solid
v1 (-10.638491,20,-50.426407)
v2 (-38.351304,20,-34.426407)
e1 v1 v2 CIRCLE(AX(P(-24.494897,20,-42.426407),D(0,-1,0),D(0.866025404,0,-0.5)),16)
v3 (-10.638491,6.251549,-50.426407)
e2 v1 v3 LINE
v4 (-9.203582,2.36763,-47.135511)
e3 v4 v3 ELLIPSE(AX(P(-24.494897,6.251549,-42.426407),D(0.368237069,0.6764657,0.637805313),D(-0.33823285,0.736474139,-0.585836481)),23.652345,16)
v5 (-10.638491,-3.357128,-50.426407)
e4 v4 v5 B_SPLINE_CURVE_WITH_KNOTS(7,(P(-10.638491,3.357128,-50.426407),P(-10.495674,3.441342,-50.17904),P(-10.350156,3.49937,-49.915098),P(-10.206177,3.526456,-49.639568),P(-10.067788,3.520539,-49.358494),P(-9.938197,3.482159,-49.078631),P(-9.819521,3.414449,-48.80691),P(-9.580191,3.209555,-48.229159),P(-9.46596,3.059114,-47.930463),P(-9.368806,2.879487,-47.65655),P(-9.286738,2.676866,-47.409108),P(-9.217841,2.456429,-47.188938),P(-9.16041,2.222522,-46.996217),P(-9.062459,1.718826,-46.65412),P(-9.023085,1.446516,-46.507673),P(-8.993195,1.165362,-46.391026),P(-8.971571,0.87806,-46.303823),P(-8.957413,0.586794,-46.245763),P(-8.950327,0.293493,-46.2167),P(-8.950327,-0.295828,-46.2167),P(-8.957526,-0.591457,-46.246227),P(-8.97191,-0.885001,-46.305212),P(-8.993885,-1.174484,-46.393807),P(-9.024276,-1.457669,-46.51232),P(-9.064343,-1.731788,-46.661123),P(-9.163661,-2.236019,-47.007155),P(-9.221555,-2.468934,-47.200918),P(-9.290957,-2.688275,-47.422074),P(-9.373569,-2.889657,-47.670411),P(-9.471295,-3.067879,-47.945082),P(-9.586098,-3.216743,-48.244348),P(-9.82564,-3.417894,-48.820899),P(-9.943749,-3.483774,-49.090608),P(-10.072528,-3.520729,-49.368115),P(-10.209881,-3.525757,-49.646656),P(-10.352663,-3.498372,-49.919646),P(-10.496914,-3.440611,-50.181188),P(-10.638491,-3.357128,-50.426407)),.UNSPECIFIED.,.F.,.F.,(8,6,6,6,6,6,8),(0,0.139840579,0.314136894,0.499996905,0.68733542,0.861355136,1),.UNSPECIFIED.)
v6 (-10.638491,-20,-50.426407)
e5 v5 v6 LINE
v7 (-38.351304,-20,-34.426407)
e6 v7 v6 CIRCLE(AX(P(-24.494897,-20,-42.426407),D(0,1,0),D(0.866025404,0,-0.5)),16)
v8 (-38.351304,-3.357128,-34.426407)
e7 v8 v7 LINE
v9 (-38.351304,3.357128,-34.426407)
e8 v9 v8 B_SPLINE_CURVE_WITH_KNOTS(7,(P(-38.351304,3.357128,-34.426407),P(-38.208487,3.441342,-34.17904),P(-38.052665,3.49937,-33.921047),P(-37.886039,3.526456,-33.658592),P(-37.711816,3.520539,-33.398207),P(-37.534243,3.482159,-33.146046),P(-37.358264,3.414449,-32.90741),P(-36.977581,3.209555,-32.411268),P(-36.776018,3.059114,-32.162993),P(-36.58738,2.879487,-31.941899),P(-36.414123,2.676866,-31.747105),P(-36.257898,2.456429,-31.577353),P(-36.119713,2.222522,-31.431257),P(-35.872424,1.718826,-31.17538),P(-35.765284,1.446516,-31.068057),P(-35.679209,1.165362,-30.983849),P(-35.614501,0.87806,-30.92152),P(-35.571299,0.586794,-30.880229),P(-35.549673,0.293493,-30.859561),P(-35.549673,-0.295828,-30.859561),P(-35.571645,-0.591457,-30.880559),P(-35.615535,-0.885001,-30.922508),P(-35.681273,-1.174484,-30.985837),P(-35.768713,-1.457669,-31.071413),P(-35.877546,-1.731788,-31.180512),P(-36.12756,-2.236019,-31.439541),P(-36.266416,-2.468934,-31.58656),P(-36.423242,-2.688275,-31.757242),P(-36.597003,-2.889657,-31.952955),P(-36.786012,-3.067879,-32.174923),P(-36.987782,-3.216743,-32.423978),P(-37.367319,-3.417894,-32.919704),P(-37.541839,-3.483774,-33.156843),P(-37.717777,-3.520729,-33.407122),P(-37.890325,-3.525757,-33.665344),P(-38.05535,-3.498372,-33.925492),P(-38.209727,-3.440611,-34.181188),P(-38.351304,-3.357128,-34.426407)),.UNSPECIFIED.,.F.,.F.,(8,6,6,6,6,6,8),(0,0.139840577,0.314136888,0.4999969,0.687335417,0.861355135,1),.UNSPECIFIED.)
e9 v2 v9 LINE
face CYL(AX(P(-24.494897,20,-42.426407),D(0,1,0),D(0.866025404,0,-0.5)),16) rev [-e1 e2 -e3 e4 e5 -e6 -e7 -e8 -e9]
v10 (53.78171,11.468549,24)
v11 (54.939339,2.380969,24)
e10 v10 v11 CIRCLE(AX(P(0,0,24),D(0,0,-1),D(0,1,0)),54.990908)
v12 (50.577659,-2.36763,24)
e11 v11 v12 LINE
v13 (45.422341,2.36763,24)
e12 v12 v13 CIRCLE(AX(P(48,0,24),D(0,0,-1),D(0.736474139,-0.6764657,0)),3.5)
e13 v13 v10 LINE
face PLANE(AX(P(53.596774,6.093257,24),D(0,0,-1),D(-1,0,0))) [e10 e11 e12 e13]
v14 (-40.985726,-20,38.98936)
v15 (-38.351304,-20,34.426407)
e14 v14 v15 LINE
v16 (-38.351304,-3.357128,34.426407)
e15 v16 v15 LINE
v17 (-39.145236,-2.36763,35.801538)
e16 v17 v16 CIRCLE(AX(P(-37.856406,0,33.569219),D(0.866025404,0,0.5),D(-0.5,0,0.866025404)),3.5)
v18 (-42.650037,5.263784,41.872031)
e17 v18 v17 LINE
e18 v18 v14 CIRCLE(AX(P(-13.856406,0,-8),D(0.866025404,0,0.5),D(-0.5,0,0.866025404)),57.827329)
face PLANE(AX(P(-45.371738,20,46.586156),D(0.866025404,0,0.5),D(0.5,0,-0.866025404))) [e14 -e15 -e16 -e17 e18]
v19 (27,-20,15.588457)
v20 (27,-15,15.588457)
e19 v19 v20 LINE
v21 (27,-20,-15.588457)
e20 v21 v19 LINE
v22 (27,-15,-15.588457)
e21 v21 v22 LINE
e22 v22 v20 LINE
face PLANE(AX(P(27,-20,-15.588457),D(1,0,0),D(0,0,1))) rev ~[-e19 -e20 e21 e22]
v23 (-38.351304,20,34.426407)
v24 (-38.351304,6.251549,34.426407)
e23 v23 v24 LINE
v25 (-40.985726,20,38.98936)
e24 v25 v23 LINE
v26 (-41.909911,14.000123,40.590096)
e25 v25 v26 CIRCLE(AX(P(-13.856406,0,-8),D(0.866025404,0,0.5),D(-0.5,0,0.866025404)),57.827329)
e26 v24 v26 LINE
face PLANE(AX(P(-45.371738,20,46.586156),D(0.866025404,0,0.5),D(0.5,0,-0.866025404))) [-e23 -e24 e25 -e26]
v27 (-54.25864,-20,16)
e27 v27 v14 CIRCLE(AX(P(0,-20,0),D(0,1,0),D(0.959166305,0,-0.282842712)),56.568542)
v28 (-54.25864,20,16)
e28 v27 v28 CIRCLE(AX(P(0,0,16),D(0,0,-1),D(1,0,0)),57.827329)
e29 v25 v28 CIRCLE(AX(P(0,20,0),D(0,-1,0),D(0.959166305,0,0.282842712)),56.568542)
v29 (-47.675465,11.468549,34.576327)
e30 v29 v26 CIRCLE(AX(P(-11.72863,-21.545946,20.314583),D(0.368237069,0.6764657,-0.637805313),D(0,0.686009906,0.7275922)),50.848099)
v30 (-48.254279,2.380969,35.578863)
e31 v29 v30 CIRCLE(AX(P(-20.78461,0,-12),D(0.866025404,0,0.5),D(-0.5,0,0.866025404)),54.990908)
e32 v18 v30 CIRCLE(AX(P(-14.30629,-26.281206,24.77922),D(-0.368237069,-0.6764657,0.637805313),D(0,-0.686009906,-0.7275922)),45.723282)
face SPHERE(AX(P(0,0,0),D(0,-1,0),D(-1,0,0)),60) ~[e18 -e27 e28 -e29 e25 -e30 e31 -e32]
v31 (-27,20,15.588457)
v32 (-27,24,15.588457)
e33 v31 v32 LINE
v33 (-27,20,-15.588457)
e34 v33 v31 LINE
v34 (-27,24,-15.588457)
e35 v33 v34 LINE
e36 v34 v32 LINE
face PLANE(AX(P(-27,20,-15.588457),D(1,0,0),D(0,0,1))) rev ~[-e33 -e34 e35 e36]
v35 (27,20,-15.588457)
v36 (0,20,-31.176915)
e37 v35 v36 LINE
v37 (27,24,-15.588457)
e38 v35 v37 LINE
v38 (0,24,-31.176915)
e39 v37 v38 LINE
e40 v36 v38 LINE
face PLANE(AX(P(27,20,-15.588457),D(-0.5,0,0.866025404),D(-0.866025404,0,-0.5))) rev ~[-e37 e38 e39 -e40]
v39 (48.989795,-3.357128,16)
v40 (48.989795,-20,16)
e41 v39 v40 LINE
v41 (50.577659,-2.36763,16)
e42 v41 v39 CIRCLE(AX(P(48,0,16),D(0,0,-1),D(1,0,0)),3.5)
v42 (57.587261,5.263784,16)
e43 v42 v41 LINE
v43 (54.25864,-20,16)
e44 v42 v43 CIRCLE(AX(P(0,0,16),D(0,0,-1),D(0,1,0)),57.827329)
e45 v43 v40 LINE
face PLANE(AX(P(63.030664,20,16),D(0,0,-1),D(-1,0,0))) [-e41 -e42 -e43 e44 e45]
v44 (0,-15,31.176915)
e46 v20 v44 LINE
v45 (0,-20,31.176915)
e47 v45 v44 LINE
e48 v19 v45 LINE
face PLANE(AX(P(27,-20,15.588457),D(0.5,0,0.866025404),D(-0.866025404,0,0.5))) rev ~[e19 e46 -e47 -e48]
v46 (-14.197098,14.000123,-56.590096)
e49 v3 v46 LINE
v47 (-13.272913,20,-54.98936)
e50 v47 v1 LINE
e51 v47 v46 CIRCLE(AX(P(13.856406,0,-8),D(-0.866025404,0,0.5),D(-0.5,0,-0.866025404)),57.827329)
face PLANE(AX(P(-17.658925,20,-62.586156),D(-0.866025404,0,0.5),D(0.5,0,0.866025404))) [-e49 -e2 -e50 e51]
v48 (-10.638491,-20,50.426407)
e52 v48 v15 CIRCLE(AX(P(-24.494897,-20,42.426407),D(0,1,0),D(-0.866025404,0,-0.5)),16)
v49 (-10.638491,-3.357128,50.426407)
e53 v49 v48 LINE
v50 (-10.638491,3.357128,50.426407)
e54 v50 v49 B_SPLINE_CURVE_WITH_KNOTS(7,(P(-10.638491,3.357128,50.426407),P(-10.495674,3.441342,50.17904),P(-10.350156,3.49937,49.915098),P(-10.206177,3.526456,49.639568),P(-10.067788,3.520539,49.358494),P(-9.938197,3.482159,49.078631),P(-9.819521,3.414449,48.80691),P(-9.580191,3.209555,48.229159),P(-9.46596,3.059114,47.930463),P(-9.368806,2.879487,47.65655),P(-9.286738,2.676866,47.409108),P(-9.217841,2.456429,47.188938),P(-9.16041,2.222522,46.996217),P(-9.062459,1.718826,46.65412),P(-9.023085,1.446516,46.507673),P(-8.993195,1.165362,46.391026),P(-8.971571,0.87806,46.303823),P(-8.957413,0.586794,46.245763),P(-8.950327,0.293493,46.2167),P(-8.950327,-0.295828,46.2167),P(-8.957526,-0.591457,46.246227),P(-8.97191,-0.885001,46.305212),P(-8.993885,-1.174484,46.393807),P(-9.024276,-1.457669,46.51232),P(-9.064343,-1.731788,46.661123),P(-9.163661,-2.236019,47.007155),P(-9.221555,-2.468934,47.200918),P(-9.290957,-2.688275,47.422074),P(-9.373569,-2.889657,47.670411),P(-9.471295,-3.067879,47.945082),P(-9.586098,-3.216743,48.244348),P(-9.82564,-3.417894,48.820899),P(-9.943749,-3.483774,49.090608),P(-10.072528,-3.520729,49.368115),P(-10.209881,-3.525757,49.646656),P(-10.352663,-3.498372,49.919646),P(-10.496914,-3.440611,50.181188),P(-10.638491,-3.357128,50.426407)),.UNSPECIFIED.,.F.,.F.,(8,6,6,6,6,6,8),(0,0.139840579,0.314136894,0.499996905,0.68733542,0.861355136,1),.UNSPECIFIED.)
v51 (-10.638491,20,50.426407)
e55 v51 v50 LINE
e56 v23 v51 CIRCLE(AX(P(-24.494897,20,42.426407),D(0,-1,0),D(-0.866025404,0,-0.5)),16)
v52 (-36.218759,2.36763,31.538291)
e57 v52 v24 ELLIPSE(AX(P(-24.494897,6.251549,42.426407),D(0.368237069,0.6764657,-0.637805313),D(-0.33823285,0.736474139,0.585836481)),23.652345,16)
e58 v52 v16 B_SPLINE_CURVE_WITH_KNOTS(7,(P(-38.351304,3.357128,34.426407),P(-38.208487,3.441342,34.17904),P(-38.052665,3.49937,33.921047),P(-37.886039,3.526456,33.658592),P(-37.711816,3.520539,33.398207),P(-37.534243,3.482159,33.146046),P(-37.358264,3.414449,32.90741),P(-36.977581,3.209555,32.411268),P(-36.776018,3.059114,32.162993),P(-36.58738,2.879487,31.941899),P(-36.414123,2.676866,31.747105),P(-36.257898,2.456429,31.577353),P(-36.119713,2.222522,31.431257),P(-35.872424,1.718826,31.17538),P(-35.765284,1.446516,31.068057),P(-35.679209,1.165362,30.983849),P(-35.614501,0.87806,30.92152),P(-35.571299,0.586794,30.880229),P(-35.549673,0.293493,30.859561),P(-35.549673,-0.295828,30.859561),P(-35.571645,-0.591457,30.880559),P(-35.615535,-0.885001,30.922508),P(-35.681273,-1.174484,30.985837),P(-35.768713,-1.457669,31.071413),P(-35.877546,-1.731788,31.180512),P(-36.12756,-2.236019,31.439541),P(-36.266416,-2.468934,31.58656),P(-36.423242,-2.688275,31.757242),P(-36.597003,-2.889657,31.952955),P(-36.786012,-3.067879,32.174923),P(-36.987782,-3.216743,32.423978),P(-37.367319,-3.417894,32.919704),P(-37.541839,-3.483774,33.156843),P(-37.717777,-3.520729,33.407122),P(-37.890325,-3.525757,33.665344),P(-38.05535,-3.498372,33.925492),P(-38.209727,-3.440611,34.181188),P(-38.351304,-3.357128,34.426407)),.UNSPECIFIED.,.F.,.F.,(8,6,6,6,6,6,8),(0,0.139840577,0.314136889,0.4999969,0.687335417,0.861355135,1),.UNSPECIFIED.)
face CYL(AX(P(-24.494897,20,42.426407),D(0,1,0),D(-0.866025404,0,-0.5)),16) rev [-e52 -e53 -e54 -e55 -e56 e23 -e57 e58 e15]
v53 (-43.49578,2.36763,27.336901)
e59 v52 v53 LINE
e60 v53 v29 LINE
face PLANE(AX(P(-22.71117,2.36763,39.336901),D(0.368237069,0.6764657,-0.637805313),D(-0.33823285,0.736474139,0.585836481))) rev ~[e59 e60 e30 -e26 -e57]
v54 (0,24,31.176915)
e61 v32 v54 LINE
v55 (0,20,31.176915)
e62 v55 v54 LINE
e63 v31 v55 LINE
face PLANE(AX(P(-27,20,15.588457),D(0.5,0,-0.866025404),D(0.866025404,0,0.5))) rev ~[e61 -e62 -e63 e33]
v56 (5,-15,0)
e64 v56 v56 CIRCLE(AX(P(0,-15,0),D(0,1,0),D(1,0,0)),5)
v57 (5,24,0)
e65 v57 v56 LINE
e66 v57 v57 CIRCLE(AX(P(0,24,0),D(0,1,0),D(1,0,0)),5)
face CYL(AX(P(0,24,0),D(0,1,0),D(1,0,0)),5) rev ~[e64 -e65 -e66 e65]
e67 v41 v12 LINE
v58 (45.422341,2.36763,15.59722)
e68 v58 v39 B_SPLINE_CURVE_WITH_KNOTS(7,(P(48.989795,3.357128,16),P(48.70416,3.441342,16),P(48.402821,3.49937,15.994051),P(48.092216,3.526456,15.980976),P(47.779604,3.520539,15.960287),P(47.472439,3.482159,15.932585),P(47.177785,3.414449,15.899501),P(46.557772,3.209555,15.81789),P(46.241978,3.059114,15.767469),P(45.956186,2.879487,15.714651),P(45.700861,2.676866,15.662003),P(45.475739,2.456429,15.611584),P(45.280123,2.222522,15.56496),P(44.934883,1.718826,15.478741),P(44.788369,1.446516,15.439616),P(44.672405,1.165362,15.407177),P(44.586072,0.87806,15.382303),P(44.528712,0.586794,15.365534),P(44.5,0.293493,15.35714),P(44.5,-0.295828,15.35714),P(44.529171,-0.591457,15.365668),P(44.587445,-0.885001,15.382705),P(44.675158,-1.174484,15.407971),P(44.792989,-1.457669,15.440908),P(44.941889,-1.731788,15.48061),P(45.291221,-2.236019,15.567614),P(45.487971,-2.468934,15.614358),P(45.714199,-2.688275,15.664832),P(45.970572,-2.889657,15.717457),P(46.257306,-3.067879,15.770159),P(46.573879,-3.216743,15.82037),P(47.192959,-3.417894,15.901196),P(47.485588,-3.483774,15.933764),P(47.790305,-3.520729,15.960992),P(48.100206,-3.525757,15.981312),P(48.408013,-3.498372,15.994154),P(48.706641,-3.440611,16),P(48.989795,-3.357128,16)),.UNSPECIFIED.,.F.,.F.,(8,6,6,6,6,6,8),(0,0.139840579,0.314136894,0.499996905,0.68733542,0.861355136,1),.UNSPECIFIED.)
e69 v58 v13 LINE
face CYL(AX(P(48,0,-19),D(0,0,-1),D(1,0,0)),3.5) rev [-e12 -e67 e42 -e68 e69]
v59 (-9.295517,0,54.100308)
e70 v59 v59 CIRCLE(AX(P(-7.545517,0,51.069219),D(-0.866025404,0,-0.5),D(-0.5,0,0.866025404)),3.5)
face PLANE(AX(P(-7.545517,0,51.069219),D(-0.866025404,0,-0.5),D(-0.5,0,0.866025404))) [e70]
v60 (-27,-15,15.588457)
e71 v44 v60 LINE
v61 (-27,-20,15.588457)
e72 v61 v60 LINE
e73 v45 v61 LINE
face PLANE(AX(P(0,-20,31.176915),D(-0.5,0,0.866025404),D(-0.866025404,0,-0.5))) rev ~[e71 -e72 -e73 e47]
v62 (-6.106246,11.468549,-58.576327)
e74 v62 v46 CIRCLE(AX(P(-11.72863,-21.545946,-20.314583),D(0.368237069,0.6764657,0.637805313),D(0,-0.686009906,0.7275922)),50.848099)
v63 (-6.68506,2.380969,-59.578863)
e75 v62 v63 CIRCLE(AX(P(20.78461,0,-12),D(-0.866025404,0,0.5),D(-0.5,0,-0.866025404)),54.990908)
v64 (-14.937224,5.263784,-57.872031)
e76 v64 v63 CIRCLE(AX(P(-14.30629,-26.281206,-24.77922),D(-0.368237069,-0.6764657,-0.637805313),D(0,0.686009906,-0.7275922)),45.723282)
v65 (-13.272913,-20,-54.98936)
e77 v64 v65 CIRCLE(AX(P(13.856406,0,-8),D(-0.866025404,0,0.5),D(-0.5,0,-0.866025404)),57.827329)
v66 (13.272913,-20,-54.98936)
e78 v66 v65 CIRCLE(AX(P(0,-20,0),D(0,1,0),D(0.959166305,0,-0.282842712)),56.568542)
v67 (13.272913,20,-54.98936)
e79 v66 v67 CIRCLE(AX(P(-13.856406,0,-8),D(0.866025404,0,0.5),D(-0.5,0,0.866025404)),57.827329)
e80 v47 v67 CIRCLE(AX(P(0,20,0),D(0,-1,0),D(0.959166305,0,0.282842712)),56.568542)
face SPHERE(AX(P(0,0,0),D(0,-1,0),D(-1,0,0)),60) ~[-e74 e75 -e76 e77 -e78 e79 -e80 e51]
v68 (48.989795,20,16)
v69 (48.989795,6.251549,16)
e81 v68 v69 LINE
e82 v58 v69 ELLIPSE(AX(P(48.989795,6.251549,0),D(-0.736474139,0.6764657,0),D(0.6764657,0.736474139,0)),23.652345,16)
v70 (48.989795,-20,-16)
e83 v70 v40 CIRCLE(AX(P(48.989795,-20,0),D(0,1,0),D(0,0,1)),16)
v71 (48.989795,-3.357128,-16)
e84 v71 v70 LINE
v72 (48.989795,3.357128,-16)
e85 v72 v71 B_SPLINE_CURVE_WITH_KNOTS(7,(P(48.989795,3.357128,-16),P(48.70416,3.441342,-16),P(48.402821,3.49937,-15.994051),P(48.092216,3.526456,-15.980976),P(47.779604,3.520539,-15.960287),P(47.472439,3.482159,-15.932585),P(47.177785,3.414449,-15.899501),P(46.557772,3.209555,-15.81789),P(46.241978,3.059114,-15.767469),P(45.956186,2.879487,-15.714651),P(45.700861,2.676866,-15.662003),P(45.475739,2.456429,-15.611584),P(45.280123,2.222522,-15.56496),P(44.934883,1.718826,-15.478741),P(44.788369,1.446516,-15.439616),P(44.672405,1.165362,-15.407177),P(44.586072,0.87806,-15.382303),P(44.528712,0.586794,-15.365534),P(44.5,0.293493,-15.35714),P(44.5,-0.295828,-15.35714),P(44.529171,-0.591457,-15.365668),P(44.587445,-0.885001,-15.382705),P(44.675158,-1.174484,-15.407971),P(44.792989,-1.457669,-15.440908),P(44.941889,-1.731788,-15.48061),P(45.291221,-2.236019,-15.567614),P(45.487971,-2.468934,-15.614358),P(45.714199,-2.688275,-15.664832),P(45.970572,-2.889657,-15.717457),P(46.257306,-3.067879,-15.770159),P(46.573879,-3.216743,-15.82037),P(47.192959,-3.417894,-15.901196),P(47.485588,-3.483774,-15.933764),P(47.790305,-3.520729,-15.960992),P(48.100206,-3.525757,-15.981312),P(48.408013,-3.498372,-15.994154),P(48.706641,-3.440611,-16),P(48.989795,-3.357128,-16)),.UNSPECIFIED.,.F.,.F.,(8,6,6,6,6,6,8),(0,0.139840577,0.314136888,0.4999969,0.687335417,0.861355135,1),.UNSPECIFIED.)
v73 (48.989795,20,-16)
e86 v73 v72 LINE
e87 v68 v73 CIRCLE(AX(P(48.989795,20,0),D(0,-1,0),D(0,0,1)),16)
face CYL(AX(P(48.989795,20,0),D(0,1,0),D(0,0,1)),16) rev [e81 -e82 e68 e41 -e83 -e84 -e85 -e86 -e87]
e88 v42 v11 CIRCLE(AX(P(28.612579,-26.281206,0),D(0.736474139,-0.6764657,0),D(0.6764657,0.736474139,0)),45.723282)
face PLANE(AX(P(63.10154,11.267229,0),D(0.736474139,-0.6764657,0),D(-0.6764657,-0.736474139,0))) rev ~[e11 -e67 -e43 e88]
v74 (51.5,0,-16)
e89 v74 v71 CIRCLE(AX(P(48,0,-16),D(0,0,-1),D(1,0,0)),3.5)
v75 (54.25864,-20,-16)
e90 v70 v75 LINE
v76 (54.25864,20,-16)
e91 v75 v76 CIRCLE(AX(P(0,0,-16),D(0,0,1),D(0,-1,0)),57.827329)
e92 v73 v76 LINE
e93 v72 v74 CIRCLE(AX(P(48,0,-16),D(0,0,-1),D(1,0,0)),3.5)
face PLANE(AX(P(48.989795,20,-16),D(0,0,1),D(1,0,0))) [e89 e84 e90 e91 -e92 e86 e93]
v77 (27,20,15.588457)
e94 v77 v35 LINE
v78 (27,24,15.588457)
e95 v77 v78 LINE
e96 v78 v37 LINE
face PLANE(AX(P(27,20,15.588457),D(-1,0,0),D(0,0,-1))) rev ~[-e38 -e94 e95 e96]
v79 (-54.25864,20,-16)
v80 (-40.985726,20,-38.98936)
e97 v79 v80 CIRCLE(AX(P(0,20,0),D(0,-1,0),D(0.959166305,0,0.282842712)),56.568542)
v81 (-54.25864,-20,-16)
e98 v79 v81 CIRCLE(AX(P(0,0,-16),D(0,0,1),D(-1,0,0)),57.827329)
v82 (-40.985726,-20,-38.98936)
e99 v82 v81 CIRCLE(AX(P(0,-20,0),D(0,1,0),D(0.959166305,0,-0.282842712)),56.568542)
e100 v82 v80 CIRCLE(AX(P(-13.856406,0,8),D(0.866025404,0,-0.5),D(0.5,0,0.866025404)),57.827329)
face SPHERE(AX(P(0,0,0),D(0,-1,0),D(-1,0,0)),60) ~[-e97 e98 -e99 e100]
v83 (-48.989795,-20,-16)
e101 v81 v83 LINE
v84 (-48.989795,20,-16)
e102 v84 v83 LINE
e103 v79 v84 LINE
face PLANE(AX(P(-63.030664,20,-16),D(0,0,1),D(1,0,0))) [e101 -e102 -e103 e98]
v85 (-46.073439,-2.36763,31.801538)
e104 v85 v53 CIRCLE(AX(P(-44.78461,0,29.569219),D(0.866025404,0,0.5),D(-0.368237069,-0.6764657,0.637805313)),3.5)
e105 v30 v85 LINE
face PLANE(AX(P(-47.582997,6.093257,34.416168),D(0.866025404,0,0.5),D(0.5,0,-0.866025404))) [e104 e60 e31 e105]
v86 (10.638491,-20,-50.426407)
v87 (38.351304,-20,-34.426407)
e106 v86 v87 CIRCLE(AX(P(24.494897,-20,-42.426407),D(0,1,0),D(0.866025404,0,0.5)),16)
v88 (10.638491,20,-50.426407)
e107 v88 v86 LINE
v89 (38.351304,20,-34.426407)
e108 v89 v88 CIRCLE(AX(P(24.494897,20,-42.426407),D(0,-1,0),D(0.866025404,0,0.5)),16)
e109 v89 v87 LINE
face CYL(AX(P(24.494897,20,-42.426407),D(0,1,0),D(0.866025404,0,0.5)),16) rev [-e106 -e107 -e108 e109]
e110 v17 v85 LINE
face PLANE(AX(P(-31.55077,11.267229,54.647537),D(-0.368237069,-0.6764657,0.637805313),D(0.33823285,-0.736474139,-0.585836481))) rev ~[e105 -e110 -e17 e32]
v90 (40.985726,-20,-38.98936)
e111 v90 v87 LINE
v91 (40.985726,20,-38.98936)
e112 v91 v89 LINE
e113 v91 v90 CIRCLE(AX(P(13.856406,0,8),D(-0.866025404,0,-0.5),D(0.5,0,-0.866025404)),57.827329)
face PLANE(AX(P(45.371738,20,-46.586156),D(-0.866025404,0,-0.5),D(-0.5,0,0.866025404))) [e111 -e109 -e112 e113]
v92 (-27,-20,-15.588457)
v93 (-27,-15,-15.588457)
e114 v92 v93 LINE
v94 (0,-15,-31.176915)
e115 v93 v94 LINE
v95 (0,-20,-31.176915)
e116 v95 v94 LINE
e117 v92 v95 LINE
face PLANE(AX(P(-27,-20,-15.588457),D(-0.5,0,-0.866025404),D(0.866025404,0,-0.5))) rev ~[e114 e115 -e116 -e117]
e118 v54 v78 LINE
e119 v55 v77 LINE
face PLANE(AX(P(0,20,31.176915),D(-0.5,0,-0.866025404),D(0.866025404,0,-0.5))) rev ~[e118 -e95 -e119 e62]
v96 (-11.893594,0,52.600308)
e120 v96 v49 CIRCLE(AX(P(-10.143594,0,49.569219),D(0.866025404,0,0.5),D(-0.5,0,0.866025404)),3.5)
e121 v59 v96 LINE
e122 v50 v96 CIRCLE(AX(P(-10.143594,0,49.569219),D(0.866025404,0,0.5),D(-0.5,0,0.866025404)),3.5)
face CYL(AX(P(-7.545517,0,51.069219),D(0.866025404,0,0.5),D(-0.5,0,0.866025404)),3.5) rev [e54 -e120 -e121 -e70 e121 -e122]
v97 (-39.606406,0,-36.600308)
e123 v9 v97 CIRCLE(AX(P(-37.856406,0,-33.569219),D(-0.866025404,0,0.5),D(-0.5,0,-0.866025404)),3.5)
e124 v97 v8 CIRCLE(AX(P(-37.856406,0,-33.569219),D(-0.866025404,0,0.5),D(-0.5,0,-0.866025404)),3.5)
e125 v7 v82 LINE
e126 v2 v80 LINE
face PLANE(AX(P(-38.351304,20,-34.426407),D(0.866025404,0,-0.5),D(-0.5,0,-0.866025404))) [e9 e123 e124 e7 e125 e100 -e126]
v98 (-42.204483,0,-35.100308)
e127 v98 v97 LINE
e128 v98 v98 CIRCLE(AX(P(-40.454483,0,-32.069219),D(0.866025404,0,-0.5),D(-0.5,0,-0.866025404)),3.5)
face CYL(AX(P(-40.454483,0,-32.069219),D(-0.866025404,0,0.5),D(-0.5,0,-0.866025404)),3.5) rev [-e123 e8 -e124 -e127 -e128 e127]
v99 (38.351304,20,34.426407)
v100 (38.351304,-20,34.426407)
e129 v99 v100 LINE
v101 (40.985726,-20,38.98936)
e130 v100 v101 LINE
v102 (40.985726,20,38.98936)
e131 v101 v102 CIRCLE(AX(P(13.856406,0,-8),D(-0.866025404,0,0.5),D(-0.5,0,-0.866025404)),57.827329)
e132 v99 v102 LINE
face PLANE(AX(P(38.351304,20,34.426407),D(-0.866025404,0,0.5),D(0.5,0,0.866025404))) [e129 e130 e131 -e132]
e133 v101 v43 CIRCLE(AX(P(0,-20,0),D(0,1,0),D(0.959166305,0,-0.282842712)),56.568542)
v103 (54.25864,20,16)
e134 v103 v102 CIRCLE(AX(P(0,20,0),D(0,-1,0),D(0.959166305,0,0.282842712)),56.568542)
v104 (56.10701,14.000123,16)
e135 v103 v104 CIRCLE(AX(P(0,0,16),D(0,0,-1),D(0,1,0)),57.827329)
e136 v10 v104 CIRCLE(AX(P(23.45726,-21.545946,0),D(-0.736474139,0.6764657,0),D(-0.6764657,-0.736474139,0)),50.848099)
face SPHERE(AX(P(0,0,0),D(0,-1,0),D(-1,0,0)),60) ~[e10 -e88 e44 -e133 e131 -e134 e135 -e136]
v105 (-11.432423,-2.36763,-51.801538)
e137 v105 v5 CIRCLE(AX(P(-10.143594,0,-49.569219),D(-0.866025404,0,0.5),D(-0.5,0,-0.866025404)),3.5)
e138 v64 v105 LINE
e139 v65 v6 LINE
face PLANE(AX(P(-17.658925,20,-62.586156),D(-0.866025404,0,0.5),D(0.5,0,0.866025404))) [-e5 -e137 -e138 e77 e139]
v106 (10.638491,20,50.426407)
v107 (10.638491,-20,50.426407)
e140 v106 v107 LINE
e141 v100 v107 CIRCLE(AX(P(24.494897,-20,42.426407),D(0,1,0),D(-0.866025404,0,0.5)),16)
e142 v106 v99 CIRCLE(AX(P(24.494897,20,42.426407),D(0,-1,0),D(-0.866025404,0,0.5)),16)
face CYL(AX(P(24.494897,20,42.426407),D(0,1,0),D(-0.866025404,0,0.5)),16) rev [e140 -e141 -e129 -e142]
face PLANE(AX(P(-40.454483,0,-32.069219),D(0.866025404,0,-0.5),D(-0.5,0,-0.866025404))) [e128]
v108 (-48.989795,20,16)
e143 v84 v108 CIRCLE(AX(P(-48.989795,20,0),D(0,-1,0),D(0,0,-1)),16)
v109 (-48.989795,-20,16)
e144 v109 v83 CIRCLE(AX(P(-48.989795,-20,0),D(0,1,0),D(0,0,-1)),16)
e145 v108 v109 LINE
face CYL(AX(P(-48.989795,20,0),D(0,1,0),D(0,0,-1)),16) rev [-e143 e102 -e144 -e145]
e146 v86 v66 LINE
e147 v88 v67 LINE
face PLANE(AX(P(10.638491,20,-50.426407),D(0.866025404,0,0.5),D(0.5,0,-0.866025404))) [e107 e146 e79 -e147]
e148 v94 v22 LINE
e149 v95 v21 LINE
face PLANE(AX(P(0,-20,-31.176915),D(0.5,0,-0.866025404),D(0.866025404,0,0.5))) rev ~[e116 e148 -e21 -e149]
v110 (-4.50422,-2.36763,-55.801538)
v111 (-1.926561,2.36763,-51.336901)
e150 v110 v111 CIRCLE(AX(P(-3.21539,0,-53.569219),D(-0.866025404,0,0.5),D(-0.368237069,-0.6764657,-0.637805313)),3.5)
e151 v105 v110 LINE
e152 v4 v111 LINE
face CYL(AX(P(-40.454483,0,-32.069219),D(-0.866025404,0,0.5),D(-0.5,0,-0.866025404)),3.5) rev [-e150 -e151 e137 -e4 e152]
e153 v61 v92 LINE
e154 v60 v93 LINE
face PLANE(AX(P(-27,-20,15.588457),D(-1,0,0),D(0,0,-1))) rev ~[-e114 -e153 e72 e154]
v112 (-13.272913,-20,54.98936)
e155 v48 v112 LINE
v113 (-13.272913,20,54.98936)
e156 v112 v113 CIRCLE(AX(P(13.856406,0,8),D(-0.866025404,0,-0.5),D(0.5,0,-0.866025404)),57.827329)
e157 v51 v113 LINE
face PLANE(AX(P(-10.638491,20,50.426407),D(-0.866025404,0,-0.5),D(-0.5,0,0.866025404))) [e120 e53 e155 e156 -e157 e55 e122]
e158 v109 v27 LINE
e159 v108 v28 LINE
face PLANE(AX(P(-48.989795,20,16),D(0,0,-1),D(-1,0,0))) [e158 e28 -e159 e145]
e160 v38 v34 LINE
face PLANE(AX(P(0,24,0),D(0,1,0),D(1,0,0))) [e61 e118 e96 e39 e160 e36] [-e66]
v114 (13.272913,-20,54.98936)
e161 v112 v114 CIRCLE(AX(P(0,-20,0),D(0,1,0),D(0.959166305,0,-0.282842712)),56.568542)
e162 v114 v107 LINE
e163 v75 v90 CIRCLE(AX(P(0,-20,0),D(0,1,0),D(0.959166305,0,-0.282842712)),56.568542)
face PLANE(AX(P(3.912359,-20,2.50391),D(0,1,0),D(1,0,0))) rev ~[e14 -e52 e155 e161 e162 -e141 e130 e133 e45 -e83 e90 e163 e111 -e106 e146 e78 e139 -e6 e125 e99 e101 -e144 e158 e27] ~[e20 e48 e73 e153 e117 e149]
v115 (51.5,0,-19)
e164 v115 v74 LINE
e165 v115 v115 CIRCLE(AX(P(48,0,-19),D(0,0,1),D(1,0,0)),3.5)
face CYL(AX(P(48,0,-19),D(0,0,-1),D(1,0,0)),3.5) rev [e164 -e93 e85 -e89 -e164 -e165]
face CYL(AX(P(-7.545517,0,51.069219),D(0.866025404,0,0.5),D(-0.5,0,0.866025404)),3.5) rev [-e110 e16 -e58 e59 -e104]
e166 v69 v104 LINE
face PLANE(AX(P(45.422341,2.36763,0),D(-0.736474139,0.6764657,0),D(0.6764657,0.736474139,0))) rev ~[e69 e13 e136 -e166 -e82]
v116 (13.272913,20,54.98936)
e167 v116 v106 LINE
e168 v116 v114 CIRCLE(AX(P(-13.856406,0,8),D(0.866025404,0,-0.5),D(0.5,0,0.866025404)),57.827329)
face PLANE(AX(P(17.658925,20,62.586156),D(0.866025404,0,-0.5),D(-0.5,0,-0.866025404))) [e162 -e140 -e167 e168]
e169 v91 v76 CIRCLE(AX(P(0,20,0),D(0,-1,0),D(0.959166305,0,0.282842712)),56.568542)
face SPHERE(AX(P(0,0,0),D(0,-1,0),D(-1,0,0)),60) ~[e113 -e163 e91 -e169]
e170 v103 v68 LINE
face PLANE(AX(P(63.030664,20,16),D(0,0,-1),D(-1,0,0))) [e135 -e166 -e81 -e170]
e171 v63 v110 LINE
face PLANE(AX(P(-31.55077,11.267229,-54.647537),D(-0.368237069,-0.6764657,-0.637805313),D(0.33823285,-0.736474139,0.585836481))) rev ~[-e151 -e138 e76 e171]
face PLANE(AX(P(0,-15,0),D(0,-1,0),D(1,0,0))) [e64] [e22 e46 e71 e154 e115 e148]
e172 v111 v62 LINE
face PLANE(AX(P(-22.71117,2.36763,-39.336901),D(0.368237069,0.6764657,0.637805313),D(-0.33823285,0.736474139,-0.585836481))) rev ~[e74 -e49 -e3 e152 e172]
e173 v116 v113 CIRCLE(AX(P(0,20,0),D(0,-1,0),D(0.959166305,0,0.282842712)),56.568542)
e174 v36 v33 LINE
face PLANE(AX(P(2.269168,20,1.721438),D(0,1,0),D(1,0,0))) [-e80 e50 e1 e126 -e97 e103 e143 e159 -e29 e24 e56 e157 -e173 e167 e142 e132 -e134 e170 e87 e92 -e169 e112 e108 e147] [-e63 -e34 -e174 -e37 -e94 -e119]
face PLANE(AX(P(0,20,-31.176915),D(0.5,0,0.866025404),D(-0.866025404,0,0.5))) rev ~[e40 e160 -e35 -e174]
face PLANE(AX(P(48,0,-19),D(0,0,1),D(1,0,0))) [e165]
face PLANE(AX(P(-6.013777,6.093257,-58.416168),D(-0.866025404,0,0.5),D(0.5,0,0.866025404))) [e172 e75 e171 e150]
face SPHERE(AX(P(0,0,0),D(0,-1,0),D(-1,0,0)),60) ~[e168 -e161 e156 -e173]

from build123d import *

# Parameters (mm, degrees)
SKETCH2_W           = 136.932578545
SKETCH2_H           = 134.741657288
CUT_EXTRUDE1_DEPTH  = 41
SKETCH3_W           = 157.433341732
SKETCH3_H           = 136.306601043
CUT_EXTRUDE2_DEPTH  = 41
CUT_EXTRUDE3_DEPTH  = 41
CUT_EXTRUDE4_START  = -3
SKETCH8_R           = 3.5
CUT_EXTRUDE4_DEPTH  = 43
CUT_EXTRUDE5_DEPTH  = 24
CIRPATTERN1_COUNT   = 6
CIRPATTERN2_COUNT   = 3
BOSS_EXTRUDE1_DEPTH = 4
CUT_EXTRUDE6_DEPTH  = 5
SKETCH12_R          = 5
CUT_EXTRUDE7_DEPTH  = 45.0000001


with BuildPart() as part:
    # Sketch1 → Revolve1 (revolve)
    with BuildSketch(Plane.XY):
        with BuildLine():
            Line((0, 0), (0, 60))
            ThreePointArc((0, 60), (-60, 0), (0, -60))
            Line((0, -60), (0, 0))
        make_face()
    revolve(axis=Axis((0, 0, 0), (0, 1, 0)))

    # Sketch2 → Cut-Extrude1 (cut, through all)
    with BuildSketch(Plane(origin=(0, 20, 0), x_dir=(1, 0, 0), z_dir=(0, 1, 0))):
        with Locations((2.269168444, -1.72143813)):
            Rectangle(SKETCH2_W, SKETCH2_H)
    extrude(amount=CUT_EXTRUDE1_DEPTH, mode=Mode.SUBTRACT)

    # Sketch3 → Cut-Extrude2 (cut, through all)
    with BuildSketch(Plane(origin=(0, -20, 0), x_dir=(1, 0, 0), z_dir=(0, 1, 0))):
        with Locations((3.912359387, -2.503910008)):
            Rectangle(SKETCH3_W, SKETCH3_H)
    extrude(amount=-CUT_EXTRUDE2_DEPTH, mode=Mode.SUBTRACT)

    # Sketch7 → Cut-Extrude3 (cut, through all)
    with BuildSketch(Plane(origin=(0, 20, 0), x_dir=(1, 0, 0), z_dir=(0, 1, 0))):
        with BuildLine():
            Line((48.989794856, 16), (63.030663811, 16))
            Line((63.030663811, 16), (63.030663811, -16))
            Line((63.030663811, -16), (48.989794856, -16))
            ThreePointArc((48.989794856, -16), (32.989794856, 0), (48.989794856, 16))
        make_face()
    cut_extrude3 = extrude(amount=-CUT_EXTRUDE3_DEPTH, mode=Mode.SUBTRACT)

    # Sketch8 → Cut-Extrude4 (cut)
    with BuildSketch(Plane.XY.offset(-16).offset(CUT_EXTRUDE4_START)):
        with Locations((48, 0)):
            Circle(SKETCH8_R)
    cut_extrude4 = extrude(amount=CUT_EXTRUDE4_DEPTH, mode=Mode.SUBTRACT)

    # Sketch9 → Cut-Extrude5 (cut)
    with BuildSketch(Plane.XY):
        with BuildLine():
            Line((45.422340515, 2.36762995), (57.946221285, 16.002488752))
            Line((57.946221285, 16.002488752), (63.101540255, 11.267228853))
            Line((63.101540255, 11.267228853), (50.577659485, -2.36762995))
            ThreePointArc((50.577659485, -2.36762995), (45.63237005, -2.577659485), (45.422340515, 2.36762995))
        make_face()
    cut_extrude5 = extrude(amount=CUT_EXTRUDE5_DEPTH, mode=Mode.SUBTRACT)

    # CirPattern1: Cut-Extrude3 ×6 about axis
    cirpattern1_axis = Axis((0, 0, 0), (0, 1, 0))
    for i in range(1, CIRPATTERN1_COUNT):
        add(cut_extrude3.rotate(cirpattern1_axis, i * 360 / CIRPATTERN1_COUNT), mode=Mode.SUBTRACT)

    # CirPattern2: Cut-Extrude4, Cut-Extrude5 ×3 about axis
    cirpattern2_axis = Axis((0, 0, 0), (0, 1, 0))
    for i in range(1, CIRPATTERN2_COUNT):
        add(cut_extrude4.rotate(cirpattern2_axis, i * 360 / CIRPATTERN2_COUNT), mode=Mode.SUBTRACT)
        add(cut_extrude5.rotate(cirpattern2_axis, i * 360 / CIRPATTERN2_COUNT), mode=Mode.SUBTRACT)

    # Sketch10 → Boss-Extrude1 (add)
    with BuildSketch(Plane(origin=(0, 20, 0), x_dir=(1, 0, 0), z_dir=(0, 1, 0))):
        Polygon((27, -15.588457268), (27, 15.588457268), (0, 31.176914536), (-27, 15.588457268), (-27, -15.588457268), (0, -31.176914536), align=None)
    extrude(amount=BOSS_EXTRUDE1_DEPTH)

    # Sketch11 → Cut-Extrude6 (cut)
    with BuildSketch(Plane.XZ.offset(20)):
        Polygon((27, -15.588457268), (27, 15.588457268), (0, 31.176914536), (-27, 15.588457268), (-27, -15.588457268), (0, -31.176914536), align=None)
    extrude(amount=-CUT_EXTRUDE6_DEPTH, mode=Mode.SUBTRACT)

    # Sketch12 → Cut-Extrude7 (cut, through all)
    with BuildSketch(Plane(origin=(0, 24, 0), x_dir=(1, 0, 0), z_dir=(0, 1, 0))):
        Circle(SKETCH12_R)
    extrude(amount=-CUT_EXTRUDE7_DEPTH, mode=Mode.SUBTRACT)


solid = part.part
